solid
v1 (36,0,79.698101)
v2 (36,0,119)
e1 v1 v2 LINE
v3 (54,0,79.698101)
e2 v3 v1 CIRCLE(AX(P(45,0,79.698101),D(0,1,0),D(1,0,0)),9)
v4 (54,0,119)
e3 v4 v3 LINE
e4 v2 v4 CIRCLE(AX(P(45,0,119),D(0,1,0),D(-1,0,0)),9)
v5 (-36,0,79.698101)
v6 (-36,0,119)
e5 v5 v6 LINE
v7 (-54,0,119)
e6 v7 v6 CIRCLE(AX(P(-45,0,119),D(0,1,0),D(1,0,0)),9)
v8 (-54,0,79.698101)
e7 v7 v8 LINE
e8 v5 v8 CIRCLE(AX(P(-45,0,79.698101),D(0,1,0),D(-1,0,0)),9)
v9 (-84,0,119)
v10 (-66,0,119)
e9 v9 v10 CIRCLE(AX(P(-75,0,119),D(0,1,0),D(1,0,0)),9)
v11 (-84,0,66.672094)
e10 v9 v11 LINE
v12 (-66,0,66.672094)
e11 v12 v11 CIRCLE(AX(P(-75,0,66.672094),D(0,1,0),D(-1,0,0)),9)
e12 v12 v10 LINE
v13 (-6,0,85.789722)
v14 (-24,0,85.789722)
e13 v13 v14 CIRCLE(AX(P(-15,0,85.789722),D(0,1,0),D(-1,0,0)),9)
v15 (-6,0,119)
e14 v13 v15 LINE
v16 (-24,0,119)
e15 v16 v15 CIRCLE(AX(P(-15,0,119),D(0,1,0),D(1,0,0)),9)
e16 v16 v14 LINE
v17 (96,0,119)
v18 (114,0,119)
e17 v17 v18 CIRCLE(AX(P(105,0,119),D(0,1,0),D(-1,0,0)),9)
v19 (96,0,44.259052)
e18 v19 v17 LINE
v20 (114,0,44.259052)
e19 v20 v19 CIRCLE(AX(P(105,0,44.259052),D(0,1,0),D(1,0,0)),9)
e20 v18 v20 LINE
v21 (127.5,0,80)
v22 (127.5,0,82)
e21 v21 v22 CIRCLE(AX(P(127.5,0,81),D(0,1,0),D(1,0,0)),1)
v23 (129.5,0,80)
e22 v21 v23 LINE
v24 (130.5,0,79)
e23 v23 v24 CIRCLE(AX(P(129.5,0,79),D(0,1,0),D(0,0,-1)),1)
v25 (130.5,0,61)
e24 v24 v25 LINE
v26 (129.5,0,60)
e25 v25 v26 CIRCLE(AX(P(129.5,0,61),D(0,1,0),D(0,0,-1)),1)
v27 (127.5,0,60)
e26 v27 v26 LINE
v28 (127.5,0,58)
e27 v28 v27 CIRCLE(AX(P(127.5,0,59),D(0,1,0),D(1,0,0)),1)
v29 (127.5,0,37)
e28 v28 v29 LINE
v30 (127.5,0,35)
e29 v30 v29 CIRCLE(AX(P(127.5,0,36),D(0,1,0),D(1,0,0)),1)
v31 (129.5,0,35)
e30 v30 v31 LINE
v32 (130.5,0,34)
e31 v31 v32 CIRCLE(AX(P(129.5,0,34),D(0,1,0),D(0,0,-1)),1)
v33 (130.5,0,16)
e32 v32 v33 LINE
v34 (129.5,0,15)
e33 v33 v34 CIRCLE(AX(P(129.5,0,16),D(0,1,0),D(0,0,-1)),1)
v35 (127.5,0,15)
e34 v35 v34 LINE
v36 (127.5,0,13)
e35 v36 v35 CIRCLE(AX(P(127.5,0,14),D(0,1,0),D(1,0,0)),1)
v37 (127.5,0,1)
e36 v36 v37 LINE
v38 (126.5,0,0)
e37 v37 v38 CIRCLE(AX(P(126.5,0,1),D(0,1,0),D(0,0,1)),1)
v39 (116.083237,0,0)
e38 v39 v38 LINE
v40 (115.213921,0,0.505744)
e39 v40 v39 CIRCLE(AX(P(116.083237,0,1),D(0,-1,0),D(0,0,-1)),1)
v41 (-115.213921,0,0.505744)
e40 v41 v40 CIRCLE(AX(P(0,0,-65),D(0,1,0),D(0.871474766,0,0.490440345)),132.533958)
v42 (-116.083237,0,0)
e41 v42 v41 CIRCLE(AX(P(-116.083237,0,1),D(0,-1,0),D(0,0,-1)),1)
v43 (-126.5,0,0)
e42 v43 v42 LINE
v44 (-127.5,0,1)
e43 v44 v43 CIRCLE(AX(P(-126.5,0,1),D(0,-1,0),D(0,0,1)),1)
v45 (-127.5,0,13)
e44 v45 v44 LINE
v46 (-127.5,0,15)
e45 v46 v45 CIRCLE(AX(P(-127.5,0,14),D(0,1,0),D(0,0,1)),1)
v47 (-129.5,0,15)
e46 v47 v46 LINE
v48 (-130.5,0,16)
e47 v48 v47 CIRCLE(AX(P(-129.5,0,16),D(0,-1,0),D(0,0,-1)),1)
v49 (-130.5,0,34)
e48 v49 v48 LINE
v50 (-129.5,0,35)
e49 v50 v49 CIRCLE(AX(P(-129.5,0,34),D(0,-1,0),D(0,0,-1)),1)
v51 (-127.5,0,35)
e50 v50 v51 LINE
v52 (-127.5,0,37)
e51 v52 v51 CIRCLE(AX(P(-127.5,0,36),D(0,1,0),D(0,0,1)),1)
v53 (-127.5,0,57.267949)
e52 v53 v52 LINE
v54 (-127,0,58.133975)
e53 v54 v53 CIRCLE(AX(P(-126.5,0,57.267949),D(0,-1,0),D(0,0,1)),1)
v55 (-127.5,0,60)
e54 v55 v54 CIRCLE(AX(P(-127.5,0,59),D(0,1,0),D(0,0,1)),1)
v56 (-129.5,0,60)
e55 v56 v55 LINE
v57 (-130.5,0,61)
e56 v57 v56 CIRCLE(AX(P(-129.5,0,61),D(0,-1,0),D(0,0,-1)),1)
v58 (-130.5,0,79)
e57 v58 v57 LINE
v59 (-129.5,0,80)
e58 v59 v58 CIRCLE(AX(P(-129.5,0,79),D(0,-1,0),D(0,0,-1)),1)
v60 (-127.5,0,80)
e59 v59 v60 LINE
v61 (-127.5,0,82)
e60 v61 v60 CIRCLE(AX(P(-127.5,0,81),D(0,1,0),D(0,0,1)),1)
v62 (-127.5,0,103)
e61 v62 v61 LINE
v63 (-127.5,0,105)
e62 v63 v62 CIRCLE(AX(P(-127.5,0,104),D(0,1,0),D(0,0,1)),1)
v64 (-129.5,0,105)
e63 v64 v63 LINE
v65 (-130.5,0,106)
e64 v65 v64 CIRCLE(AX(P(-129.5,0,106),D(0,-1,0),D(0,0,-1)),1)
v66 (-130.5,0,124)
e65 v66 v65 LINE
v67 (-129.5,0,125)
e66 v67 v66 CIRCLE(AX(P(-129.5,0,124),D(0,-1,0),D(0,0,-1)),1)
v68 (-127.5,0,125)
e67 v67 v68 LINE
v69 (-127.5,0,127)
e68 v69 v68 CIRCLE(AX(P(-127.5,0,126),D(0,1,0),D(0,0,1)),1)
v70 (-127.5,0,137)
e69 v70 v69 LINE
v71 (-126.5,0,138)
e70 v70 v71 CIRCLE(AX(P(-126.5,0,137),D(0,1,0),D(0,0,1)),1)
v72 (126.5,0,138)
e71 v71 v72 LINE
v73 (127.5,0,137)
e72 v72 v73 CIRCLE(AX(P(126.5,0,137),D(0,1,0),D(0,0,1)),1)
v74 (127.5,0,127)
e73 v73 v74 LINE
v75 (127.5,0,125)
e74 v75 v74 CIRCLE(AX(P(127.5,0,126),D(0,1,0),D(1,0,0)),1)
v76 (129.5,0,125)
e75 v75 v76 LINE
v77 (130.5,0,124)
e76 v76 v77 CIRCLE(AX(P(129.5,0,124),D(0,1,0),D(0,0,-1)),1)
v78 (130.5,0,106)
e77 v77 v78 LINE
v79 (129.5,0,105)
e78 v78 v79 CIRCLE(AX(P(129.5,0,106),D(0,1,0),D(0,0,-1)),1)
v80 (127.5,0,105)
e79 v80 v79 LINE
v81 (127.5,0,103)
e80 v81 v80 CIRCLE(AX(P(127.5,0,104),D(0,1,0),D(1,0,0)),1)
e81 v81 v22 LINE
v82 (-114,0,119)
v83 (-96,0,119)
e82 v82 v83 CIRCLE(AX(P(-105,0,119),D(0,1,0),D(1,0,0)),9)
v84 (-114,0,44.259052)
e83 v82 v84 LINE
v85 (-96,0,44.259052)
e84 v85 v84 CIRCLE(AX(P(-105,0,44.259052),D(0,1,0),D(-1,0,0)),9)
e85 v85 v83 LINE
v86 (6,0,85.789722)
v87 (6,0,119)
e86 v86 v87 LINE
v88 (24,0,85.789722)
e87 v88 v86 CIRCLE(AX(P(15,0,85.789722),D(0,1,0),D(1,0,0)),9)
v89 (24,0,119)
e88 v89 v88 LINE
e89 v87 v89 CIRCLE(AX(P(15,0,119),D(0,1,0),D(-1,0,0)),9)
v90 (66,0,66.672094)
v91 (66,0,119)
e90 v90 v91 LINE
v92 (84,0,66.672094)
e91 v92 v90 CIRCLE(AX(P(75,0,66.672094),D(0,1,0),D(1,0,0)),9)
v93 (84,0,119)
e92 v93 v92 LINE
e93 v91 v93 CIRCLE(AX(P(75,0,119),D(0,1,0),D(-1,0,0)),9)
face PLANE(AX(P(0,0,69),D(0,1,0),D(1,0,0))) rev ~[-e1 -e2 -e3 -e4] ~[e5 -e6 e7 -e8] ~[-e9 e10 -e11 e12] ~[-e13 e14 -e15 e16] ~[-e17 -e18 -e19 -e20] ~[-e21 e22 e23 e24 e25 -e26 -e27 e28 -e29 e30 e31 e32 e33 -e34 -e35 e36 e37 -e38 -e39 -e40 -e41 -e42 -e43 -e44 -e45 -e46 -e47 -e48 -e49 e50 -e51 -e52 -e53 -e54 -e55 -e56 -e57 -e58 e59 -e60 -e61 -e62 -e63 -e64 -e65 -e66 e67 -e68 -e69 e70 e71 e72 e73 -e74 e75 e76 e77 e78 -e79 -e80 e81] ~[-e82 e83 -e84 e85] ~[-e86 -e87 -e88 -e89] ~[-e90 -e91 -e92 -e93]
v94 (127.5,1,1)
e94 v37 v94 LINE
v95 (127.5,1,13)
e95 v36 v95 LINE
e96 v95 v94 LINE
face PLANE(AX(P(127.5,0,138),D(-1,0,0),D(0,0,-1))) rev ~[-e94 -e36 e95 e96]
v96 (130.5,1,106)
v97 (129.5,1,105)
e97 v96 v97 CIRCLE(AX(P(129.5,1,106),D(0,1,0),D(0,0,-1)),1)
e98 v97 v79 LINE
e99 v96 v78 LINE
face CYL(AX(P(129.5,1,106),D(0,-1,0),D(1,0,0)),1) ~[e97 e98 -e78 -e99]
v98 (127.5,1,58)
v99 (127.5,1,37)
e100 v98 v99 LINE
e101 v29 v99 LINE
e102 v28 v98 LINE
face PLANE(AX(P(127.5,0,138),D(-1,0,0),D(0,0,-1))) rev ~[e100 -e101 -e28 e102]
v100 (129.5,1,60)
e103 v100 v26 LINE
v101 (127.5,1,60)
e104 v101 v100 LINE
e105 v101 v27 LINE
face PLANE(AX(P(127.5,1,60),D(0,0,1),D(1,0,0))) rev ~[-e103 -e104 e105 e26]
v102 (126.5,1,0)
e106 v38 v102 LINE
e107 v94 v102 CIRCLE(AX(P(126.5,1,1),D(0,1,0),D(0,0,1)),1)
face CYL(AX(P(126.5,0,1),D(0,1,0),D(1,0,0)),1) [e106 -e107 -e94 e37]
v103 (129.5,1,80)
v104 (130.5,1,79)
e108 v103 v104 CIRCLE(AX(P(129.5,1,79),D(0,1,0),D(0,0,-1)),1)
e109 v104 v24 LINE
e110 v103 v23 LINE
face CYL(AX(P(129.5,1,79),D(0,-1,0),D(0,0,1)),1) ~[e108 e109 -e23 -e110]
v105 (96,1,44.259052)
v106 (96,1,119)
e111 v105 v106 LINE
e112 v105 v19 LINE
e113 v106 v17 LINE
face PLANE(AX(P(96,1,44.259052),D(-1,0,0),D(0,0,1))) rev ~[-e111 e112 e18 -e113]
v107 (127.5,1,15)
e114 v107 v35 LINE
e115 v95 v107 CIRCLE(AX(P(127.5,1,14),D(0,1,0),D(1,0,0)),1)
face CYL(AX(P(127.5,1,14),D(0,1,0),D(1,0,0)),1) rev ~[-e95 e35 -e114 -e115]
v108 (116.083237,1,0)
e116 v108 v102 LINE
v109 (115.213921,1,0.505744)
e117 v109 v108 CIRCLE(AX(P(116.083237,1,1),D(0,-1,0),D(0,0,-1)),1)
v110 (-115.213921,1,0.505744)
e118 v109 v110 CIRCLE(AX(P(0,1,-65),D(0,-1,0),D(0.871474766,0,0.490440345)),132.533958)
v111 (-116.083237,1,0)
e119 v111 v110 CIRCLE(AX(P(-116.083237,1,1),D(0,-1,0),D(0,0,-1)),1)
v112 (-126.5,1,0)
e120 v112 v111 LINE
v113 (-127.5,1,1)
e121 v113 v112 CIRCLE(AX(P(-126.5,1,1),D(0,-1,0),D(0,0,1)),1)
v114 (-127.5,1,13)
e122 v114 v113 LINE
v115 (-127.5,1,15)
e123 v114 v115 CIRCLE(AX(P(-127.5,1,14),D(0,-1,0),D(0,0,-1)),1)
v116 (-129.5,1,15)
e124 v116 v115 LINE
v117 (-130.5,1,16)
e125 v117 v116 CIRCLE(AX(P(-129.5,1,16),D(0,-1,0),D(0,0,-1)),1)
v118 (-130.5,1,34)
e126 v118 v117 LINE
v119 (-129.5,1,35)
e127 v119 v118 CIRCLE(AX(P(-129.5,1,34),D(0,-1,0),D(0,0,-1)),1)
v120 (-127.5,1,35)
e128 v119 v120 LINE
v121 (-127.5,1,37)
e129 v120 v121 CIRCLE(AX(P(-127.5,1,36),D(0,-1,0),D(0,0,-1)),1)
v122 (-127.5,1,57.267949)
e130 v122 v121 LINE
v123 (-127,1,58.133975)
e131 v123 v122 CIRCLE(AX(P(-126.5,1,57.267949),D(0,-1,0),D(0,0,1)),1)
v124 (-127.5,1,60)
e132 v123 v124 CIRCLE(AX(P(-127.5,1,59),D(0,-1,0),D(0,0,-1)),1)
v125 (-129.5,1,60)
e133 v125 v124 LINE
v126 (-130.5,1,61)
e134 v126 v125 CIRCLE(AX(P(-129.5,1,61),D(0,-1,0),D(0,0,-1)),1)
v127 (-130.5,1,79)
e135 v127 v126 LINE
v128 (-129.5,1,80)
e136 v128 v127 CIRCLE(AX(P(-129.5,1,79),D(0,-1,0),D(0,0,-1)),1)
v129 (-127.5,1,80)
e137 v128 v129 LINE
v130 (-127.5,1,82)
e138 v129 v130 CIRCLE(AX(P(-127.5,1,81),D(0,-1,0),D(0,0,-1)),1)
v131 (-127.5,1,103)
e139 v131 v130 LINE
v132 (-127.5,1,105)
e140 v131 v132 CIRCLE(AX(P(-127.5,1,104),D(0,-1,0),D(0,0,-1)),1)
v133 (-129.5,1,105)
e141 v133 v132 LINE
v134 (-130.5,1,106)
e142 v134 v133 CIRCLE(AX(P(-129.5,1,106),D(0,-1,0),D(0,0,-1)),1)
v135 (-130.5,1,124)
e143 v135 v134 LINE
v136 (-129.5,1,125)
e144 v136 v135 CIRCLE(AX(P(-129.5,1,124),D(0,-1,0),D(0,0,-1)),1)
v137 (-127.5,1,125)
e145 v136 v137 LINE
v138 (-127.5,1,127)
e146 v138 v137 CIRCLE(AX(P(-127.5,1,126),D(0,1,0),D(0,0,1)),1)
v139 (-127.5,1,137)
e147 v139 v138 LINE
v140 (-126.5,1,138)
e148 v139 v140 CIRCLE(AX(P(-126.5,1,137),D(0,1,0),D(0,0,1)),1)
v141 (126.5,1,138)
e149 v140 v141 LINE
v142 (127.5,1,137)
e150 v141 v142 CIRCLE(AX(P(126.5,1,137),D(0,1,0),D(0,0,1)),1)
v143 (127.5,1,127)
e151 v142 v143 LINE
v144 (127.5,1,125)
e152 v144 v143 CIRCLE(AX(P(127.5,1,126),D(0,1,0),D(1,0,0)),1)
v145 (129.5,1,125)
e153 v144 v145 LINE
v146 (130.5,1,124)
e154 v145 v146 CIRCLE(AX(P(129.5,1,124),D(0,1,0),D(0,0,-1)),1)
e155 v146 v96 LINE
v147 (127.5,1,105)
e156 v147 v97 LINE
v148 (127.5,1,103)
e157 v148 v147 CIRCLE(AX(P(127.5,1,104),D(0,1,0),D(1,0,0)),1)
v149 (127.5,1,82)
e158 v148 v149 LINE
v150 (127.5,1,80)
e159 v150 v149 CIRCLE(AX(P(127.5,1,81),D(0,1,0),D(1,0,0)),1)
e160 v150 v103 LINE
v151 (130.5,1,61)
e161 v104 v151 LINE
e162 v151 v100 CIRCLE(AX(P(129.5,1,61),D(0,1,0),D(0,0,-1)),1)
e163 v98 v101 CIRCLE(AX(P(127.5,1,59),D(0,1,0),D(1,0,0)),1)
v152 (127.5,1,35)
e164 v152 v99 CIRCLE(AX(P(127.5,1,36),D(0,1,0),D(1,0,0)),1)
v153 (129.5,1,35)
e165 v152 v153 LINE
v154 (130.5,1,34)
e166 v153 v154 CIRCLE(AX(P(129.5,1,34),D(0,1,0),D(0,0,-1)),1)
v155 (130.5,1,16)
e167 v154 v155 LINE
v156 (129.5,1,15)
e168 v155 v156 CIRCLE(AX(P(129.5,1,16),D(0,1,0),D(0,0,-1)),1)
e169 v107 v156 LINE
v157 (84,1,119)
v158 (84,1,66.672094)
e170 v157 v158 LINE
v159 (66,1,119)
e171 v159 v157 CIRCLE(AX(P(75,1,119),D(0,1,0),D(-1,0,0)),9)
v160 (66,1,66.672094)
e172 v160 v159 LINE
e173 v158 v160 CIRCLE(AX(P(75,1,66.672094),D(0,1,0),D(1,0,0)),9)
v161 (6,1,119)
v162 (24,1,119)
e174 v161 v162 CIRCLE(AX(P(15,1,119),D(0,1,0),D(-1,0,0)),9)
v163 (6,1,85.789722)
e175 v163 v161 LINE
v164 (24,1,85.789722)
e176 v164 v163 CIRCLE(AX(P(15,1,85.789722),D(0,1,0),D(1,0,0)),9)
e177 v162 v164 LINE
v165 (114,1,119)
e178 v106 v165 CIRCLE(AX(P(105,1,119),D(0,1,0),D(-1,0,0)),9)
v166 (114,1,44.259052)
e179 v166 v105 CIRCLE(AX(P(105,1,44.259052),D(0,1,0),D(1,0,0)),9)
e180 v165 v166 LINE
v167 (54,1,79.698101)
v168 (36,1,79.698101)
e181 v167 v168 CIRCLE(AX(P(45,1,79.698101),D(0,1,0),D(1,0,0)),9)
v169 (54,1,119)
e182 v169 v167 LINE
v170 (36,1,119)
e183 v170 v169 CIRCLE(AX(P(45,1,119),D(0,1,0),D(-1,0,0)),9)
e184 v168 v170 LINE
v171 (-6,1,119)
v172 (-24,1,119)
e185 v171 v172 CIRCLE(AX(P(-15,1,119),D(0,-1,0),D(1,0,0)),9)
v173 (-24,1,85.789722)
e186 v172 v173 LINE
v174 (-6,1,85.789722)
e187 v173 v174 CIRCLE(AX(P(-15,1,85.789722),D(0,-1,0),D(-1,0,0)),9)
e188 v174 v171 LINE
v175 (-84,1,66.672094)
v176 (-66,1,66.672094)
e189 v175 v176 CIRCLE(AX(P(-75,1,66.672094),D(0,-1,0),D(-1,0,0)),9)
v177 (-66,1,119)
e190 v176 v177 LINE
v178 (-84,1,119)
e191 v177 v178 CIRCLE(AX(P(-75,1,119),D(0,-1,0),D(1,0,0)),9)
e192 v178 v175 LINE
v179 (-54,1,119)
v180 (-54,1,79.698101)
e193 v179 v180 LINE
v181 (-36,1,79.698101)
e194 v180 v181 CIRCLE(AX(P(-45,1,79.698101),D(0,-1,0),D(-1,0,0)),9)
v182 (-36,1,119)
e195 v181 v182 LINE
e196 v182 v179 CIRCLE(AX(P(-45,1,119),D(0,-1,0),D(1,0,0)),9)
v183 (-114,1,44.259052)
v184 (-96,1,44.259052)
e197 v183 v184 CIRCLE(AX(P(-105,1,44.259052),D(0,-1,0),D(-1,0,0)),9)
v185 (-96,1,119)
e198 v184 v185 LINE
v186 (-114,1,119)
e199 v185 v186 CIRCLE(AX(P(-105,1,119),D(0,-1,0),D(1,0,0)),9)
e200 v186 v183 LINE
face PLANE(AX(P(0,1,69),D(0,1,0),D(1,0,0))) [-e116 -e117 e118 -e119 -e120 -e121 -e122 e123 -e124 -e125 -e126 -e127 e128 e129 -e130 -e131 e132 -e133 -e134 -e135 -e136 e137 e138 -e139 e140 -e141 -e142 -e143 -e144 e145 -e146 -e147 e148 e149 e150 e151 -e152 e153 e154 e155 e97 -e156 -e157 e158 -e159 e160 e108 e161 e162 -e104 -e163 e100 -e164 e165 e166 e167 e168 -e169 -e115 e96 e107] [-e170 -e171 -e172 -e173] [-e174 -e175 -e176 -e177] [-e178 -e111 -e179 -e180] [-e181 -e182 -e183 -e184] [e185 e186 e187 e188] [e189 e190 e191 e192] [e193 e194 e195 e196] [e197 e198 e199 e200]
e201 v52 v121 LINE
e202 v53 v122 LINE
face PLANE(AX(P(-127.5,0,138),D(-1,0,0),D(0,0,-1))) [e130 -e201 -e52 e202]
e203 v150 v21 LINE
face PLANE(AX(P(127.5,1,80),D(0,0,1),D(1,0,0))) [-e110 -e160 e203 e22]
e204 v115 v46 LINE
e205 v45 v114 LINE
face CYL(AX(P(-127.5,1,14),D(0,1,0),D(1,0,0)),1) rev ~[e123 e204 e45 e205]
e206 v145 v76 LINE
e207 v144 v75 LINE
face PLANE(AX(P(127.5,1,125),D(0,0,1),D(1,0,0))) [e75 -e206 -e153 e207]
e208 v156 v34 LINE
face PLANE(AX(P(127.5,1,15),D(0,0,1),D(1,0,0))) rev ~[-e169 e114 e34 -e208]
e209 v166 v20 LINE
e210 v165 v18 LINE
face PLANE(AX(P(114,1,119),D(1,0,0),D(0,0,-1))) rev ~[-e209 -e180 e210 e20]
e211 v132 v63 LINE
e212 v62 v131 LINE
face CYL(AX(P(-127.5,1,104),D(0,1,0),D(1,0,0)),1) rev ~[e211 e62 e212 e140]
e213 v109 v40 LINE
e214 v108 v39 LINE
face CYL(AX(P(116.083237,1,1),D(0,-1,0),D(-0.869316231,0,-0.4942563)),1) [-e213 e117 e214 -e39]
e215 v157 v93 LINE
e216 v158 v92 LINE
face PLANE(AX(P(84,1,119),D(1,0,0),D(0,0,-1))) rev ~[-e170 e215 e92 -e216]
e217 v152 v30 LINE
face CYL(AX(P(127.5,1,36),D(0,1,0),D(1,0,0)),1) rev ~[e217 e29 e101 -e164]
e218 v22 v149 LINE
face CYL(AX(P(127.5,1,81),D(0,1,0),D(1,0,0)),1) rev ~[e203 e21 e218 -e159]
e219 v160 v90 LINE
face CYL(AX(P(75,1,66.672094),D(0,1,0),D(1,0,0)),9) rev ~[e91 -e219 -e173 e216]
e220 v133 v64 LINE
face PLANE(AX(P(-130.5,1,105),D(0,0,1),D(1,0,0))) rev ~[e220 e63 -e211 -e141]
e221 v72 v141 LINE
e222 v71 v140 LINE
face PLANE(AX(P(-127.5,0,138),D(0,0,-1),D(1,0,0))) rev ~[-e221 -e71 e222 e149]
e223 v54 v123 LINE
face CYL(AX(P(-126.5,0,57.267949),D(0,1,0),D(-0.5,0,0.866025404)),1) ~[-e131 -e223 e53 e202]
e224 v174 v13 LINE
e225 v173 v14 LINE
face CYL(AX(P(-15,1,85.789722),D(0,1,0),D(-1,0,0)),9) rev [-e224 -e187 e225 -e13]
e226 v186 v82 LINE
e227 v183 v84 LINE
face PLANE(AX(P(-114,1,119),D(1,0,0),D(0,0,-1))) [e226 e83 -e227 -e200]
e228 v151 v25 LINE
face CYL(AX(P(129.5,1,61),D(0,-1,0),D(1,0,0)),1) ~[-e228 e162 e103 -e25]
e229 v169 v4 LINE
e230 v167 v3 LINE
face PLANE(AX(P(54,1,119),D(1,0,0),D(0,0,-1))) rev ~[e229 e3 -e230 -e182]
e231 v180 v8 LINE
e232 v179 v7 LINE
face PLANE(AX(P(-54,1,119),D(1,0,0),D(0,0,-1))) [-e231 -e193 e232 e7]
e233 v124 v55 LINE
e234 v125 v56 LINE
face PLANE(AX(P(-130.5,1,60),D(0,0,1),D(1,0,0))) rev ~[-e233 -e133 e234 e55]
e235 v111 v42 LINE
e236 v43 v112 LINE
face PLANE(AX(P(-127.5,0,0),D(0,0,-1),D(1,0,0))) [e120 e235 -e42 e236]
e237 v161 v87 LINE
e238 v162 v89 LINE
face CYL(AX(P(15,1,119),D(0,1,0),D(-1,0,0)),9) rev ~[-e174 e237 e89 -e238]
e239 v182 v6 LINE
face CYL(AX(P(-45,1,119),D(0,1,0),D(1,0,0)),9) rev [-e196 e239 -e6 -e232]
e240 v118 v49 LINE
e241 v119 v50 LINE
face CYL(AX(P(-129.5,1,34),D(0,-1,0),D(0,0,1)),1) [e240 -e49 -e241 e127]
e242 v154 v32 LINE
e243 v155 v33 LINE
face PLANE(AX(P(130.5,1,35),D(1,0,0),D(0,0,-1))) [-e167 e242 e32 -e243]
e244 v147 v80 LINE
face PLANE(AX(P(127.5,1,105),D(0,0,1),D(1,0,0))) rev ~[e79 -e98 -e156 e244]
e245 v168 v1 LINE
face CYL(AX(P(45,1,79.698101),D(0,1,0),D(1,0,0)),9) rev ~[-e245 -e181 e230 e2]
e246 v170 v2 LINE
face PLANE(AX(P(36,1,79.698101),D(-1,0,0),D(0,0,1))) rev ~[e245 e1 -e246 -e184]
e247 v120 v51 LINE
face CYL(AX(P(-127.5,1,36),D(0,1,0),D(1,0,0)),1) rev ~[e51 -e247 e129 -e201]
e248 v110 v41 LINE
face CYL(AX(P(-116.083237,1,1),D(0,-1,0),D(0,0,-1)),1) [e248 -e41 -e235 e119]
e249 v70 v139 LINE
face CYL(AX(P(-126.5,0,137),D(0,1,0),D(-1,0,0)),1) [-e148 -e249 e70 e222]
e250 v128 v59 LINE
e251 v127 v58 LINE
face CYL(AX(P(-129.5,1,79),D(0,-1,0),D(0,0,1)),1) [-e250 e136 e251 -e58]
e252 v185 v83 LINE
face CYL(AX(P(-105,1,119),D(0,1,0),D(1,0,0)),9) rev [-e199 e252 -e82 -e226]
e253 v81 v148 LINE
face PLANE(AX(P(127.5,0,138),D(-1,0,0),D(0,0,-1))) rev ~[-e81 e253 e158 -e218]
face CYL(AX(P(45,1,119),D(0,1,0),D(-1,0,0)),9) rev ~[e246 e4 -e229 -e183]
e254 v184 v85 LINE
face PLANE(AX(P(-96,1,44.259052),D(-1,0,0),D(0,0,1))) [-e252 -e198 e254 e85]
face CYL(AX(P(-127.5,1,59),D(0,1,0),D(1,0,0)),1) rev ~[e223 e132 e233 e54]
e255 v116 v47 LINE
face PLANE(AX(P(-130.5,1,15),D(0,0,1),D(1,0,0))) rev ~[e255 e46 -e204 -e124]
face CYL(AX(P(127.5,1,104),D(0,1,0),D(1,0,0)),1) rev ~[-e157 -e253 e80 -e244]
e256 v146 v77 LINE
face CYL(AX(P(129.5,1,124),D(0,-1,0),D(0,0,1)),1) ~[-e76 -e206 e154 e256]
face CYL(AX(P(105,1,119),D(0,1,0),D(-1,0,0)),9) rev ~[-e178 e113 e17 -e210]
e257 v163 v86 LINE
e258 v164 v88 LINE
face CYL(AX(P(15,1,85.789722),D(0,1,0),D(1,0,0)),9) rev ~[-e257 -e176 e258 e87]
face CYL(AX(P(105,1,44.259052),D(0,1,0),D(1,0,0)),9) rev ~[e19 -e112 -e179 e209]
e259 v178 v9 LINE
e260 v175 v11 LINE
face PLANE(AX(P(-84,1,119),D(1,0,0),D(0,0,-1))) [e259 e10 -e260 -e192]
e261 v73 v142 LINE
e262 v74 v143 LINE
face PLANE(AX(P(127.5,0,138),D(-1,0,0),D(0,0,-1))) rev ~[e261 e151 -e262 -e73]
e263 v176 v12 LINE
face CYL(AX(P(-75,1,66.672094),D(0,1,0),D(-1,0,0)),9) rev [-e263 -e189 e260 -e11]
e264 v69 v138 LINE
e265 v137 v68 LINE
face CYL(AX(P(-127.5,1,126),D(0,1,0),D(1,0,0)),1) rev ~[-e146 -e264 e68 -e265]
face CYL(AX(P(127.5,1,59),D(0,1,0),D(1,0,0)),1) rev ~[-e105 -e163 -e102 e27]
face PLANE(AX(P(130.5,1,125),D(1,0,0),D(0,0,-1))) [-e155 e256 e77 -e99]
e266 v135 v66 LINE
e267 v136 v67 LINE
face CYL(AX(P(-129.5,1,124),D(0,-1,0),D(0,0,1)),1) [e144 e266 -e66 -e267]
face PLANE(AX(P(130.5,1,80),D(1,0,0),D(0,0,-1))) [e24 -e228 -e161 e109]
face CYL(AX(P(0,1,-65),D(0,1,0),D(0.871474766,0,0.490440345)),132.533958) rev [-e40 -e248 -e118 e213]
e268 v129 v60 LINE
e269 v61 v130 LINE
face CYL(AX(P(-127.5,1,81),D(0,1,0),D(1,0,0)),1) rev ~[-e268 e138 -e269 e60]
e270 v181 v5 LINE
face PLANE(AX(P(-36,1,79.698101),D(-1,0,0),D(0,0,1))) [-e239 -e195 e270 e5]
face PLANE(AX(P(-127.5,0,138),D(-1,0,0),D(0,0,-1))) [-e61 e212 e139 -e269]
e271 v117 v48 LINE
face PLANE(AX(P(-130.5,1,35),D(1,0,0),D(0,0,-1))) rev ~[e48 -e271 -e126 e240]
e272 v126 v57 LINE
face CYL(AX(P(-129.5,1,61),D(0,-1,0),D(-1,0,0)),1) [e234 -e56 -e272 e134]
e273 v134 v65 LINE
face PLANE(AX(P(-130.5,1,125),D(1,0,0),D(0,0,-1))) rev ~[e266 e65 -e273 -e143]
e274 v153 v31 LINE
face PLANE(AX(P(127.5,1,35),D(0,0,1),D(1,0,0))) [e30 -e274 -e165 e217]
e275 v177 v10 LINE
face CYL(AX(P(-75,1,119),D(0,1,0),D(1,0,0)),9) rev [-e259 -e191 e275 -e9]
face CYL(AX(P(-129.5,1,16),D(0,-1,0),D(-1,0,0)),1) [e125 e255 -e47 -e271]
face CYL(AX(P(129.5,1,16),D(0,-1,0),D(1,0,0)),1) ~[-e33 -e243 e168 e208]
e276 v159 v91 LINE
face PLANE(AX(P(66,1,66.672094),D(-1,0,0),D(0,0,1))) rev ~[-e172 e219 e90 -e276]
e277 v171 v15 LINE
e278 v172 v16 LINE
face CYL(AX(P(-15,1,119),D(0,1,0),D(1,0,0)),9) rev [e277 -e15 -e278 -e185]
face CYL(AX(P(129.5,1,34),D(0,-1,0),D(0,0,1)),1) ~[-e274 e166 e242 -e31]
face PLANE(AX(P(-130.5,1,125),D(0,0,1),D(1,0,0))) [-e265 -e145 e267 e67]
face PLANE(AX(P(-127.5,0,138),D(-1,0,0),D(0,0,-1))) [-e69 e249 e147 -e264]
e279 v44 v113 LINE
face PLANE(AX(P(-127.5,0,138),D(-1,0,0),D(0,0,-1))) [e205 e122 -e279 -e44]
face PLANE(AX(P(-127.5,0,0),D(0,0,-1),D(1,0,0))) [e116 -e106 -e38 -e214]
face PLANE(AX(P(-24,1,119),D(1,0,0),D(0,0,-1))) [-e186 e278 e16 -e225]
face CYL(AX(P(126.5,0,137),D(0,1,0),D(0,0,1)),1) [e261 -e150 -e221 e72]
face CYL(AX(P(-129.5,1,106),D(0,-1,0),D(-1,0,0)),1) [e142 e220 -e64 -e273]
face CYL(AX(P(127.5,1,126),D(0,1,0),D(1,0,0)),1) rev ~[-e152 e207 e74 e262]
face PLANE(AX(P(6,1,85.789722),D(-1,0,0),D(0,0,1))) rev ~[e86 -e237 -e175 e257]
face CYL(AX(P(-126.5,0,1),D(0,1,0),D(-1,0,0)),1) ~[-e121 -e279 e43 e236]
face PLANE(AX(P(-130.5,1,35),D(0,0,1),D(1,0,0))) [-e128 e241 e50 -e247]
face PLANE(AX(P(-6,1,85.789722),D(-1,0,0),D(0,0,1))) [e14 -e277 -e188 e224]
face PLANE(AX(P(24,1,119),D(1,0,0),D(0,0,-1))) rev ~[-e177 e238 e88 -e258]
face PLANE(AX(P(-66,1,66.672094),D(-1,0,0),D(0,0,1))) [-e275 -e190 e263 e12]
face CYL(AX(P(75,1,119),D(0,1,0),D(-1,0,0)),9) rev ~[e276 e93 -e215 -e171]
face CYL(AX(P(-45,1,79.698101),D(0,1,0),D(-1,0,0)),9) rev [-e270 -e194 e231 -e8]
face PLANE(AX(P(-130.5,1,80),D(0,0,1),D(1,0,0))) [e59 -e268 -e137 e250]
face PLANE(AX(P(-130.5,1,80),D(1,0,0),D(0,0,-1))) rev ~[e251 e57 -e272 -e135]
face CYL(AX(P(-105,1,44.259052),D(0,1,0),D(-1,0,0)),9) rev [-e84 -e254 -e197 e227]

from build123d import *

# Parameters (mm, degrees)
SKETCH_1_W          = 255
SKETCH_1_H          = 138
EXTRUDE_1_DEPTH     = 1
CUT_EXTRUDE_1_DEPTH = 188.88626879
SKETCH_5_W          = 3
SKETCH_5_H          = 20
EXTRUDE_3_DEPTH     = 1
SKETCH_6_R          = 1
CUT_EXTRUDE_3_DEPTH = 190.934857254
CUT_EXTRUDE_5_DEPTH = 190.934857254
FILLET_1_R          = 1


with BuildPart() as part:
    # 草图1 → 凸台-拉伸1 (new body)
    with BuildSketch(Plane(origin=(0, 0, 0), x_dir=(1, 0, 0), z_dir=(0, 1, 0))):
        with Locations((0, -69)):
            Rectangle(SKETCH_1_W, SKETCH_1_H)
    extrude(amount=EXTRUDE_1_DEPTH)

    # 草图2 → 切除-拉伸1 (cut, through all)
    with BuildSketch(Plane(origin=(0, 1, 0), x_dir=(1, 0, 0), z_dir=(0, 1, 0))):
        with BuildLine():
            Line((-115.5, 0), (115.5, 0))
            ThreePointArc((115.5, 0), (0, -67.533957913), (-115.5, 0))
        make_face()
    extrude(amount=-CUT_EXTRUDE_1_DEPTH, mode=Mode.SUBTRACT)

    # 草图5 → 凸台-拉伸3 (add)
    with BuildSketch(Plane(origin=(0, 1, 0), x_dir=(1, 0, 0), z_dir=(0, 1, 0))):
        with Locations((-129, -25)):
            Rectangle(SKETCH_5_W, SKETCH_5_H)
        with Locations((-129, -70)):
            Rectangle(SKETCH_5_W, SKETCH_5_H)
        with Locations((129, -25)):
            Rectangle(SKETCH_5_W, SKETCH_5_H)
        with Locations((-129, -115)):
            Rectangle(SKETCH_5_W, SKETCH_5_H)
        with Locations((129, -115)):
            Rectangle(SKETCH_5_W, SKETCH_5_H)
        with Locations((129, -70)):
            Rectangle(SKETCH_5_W, SKETCH_5_H)
    extrude(amount=-EXTRUDE_3_DEPTH)

    # 草图6 → 切除-拉伸3 (cut, through all)
    with BuildSketch(Plane(origin=(0, 1, 0), x_dir=(1, 0, 0), z_dir=(0, 1, 0))):
        with Locations((-127.5, -14)):
            Circle(SKETCH_6_R)
        with Locations((-127.5, -36)):
            Circle(SKETCH_6_R)
        with Locations((127.5, -36)):
            Circle(SKETCH_6_R)
        with Locations((127.5, -14)):
            Circle(SKETCH_6_R)
        with Locations((-127.5, -59)):
            Circle(SKETCH_6_R)
        with Locations((-127.5, -81)):
            Circle(SKETCH_6_R)
        with Locations((-127.5, -104)):
            Circle(SKETCH_6_R)
        with Locations((-127.5, -126)):
            Circle(SKETCH_6_R)
        with Locations((127.5, -126)):
            Circle(SKETCH_6_R)
        with Locations((127.5, -104)):
            Circle(SKETCH_6_R)
        with Locations((127.5, -81)):
            Circle(SKETCH_6_R)
        with Locations((127.5, -59)):
            Circle(SKETCH_6_R)
    extrude(amount=-CUT_EXTRUDE_3_DEPTH, mode=Mode.SUBTRACT)

    # 草图7 → 切除-拉伸5 (cut, through all)
    with BuildSketch(Plane(origin=(0, 1, 0), x_dir=(1, 0, 0), z_dir=(0, 1, 0))):
        with BuildLine():
            Line((-96, -44.259051802), (-96, -119))
            ThreePointArc((-96, -119), (-105, -128), (-114, -119))
            Line((-114, -119), (-114, -44.259051802))
            ThreePointArc((-114, -44.259051802), (-105, -35.259051802), (-96, -44.259051802))
        make_face()
        with BuildLine():
            Line((-66, -66.672094237), (-66, -119))
            ThreePointArc((-66, -119), (-75, -128), (-84, -119))
            Line((-84, -119), (-84, -66.672094237))
            ThreePointArc((-84, -66.672094237), (-75, -57.672094237), (-66, -66.672094237))
        make_face()
        with BuildLine():
            Line((-36, -79.698100888), (-36, -119))
            ThreePointArc((-36, -119), (-45, -128), (-54, -119))
            Line((-54, -119), (-54, -79.698100888))
            ThreePointArc((-54, -79.698100888), (-45, -70.698100888), (-36, -79.698100888))
        make_face()
        with BuildLine():
            Line((-6, -85.789722464), (-6, -119))
            ThreePointArc((-6, -119), (-15, -128), (-24, -119))
            Line((-24, -119), (-24, -85.789722464))
            ThreePointArc((-24, -85.789722464), (-15, -76.789722464), (-6, -85.789722464))
        make_face()
        with BuildLine():
            Line((6, -85.789722464), (6, -119))
            ThreePointArc((6, -119), (15, -128), (24, -119))
            Line((24, -119), (24, -85.789722464))
            ThreePointArc((24, -85.789722464), (15, -76.789722464), (6, -85.789722464))
        make_face()
        with BuildLine():
            Line((36, -79.698100888), (36, -119))
            ThreePointArc((36, -119), (45, -128), (54, -119))
            Line((54, -119), (54, -79.698100888))
            ThreePointArc((54, -79.698100888), (45, -70.698100888), (36, -79.698100888))
        make_face()
        with BuildLine():
            Line((66, -66.672094237), (66, -119))
            ThreePointArc((66, -119), (75, -128), (84, -119))
            Line((84, -119), (84, -66.672094237))
            ThreePointArc((84, -66.672094237), (75, -57.672094237), (66, -66.672094237))
        make_face()
        with BuildLine():
            Line((96, -44.259051802), (96, -119))
            ThreePointArc((96, -119), (105, -128), (114, -119))
            Line((114, -119), (114, -44.259051802))
            ThreePointArc((114, -44.259051802), (105, -35.259051802), (96, -44.259051802))
        make_face()
    extrude(amount=-CUT_EXTRUDE_5_DEPTH, mode=Mode.SUBTRACT)

    # 圆角1
    fillet_1_edges = [part.edges().sort_by_distance(p)[0] for p in [
        (-127.5, 0.5, 58),
        (115.5, 0.5, 0),
        (-115.5, 0.5, 0),
        (-130.5, 0.5, 35),
        (-130.5, 0.5, 15),
        (130.5, 0.5, 15),
        (130.5, 0.5, 35),
        (-130.5, 0.5, 80),
        (-130.5, 0.5, 60),
        (-130.5, 0.5, 125),
        (-130.5, 0.5, 105),
        (130.5, 0.5, 105),
        (130.5, 0.5, 125),
        (-127.5, 0.5, 0),
        (127.5, 0.5, 0),
        (127.5, 0.5, 138),
        (-127.5, 0.5, 138),
        (130.5, 0.5, 60),
        (130.5, 0.5, 80),
    ]]
    fillet(fillet_1_edges, radius=FILLET_1_R)


solid = part.part
